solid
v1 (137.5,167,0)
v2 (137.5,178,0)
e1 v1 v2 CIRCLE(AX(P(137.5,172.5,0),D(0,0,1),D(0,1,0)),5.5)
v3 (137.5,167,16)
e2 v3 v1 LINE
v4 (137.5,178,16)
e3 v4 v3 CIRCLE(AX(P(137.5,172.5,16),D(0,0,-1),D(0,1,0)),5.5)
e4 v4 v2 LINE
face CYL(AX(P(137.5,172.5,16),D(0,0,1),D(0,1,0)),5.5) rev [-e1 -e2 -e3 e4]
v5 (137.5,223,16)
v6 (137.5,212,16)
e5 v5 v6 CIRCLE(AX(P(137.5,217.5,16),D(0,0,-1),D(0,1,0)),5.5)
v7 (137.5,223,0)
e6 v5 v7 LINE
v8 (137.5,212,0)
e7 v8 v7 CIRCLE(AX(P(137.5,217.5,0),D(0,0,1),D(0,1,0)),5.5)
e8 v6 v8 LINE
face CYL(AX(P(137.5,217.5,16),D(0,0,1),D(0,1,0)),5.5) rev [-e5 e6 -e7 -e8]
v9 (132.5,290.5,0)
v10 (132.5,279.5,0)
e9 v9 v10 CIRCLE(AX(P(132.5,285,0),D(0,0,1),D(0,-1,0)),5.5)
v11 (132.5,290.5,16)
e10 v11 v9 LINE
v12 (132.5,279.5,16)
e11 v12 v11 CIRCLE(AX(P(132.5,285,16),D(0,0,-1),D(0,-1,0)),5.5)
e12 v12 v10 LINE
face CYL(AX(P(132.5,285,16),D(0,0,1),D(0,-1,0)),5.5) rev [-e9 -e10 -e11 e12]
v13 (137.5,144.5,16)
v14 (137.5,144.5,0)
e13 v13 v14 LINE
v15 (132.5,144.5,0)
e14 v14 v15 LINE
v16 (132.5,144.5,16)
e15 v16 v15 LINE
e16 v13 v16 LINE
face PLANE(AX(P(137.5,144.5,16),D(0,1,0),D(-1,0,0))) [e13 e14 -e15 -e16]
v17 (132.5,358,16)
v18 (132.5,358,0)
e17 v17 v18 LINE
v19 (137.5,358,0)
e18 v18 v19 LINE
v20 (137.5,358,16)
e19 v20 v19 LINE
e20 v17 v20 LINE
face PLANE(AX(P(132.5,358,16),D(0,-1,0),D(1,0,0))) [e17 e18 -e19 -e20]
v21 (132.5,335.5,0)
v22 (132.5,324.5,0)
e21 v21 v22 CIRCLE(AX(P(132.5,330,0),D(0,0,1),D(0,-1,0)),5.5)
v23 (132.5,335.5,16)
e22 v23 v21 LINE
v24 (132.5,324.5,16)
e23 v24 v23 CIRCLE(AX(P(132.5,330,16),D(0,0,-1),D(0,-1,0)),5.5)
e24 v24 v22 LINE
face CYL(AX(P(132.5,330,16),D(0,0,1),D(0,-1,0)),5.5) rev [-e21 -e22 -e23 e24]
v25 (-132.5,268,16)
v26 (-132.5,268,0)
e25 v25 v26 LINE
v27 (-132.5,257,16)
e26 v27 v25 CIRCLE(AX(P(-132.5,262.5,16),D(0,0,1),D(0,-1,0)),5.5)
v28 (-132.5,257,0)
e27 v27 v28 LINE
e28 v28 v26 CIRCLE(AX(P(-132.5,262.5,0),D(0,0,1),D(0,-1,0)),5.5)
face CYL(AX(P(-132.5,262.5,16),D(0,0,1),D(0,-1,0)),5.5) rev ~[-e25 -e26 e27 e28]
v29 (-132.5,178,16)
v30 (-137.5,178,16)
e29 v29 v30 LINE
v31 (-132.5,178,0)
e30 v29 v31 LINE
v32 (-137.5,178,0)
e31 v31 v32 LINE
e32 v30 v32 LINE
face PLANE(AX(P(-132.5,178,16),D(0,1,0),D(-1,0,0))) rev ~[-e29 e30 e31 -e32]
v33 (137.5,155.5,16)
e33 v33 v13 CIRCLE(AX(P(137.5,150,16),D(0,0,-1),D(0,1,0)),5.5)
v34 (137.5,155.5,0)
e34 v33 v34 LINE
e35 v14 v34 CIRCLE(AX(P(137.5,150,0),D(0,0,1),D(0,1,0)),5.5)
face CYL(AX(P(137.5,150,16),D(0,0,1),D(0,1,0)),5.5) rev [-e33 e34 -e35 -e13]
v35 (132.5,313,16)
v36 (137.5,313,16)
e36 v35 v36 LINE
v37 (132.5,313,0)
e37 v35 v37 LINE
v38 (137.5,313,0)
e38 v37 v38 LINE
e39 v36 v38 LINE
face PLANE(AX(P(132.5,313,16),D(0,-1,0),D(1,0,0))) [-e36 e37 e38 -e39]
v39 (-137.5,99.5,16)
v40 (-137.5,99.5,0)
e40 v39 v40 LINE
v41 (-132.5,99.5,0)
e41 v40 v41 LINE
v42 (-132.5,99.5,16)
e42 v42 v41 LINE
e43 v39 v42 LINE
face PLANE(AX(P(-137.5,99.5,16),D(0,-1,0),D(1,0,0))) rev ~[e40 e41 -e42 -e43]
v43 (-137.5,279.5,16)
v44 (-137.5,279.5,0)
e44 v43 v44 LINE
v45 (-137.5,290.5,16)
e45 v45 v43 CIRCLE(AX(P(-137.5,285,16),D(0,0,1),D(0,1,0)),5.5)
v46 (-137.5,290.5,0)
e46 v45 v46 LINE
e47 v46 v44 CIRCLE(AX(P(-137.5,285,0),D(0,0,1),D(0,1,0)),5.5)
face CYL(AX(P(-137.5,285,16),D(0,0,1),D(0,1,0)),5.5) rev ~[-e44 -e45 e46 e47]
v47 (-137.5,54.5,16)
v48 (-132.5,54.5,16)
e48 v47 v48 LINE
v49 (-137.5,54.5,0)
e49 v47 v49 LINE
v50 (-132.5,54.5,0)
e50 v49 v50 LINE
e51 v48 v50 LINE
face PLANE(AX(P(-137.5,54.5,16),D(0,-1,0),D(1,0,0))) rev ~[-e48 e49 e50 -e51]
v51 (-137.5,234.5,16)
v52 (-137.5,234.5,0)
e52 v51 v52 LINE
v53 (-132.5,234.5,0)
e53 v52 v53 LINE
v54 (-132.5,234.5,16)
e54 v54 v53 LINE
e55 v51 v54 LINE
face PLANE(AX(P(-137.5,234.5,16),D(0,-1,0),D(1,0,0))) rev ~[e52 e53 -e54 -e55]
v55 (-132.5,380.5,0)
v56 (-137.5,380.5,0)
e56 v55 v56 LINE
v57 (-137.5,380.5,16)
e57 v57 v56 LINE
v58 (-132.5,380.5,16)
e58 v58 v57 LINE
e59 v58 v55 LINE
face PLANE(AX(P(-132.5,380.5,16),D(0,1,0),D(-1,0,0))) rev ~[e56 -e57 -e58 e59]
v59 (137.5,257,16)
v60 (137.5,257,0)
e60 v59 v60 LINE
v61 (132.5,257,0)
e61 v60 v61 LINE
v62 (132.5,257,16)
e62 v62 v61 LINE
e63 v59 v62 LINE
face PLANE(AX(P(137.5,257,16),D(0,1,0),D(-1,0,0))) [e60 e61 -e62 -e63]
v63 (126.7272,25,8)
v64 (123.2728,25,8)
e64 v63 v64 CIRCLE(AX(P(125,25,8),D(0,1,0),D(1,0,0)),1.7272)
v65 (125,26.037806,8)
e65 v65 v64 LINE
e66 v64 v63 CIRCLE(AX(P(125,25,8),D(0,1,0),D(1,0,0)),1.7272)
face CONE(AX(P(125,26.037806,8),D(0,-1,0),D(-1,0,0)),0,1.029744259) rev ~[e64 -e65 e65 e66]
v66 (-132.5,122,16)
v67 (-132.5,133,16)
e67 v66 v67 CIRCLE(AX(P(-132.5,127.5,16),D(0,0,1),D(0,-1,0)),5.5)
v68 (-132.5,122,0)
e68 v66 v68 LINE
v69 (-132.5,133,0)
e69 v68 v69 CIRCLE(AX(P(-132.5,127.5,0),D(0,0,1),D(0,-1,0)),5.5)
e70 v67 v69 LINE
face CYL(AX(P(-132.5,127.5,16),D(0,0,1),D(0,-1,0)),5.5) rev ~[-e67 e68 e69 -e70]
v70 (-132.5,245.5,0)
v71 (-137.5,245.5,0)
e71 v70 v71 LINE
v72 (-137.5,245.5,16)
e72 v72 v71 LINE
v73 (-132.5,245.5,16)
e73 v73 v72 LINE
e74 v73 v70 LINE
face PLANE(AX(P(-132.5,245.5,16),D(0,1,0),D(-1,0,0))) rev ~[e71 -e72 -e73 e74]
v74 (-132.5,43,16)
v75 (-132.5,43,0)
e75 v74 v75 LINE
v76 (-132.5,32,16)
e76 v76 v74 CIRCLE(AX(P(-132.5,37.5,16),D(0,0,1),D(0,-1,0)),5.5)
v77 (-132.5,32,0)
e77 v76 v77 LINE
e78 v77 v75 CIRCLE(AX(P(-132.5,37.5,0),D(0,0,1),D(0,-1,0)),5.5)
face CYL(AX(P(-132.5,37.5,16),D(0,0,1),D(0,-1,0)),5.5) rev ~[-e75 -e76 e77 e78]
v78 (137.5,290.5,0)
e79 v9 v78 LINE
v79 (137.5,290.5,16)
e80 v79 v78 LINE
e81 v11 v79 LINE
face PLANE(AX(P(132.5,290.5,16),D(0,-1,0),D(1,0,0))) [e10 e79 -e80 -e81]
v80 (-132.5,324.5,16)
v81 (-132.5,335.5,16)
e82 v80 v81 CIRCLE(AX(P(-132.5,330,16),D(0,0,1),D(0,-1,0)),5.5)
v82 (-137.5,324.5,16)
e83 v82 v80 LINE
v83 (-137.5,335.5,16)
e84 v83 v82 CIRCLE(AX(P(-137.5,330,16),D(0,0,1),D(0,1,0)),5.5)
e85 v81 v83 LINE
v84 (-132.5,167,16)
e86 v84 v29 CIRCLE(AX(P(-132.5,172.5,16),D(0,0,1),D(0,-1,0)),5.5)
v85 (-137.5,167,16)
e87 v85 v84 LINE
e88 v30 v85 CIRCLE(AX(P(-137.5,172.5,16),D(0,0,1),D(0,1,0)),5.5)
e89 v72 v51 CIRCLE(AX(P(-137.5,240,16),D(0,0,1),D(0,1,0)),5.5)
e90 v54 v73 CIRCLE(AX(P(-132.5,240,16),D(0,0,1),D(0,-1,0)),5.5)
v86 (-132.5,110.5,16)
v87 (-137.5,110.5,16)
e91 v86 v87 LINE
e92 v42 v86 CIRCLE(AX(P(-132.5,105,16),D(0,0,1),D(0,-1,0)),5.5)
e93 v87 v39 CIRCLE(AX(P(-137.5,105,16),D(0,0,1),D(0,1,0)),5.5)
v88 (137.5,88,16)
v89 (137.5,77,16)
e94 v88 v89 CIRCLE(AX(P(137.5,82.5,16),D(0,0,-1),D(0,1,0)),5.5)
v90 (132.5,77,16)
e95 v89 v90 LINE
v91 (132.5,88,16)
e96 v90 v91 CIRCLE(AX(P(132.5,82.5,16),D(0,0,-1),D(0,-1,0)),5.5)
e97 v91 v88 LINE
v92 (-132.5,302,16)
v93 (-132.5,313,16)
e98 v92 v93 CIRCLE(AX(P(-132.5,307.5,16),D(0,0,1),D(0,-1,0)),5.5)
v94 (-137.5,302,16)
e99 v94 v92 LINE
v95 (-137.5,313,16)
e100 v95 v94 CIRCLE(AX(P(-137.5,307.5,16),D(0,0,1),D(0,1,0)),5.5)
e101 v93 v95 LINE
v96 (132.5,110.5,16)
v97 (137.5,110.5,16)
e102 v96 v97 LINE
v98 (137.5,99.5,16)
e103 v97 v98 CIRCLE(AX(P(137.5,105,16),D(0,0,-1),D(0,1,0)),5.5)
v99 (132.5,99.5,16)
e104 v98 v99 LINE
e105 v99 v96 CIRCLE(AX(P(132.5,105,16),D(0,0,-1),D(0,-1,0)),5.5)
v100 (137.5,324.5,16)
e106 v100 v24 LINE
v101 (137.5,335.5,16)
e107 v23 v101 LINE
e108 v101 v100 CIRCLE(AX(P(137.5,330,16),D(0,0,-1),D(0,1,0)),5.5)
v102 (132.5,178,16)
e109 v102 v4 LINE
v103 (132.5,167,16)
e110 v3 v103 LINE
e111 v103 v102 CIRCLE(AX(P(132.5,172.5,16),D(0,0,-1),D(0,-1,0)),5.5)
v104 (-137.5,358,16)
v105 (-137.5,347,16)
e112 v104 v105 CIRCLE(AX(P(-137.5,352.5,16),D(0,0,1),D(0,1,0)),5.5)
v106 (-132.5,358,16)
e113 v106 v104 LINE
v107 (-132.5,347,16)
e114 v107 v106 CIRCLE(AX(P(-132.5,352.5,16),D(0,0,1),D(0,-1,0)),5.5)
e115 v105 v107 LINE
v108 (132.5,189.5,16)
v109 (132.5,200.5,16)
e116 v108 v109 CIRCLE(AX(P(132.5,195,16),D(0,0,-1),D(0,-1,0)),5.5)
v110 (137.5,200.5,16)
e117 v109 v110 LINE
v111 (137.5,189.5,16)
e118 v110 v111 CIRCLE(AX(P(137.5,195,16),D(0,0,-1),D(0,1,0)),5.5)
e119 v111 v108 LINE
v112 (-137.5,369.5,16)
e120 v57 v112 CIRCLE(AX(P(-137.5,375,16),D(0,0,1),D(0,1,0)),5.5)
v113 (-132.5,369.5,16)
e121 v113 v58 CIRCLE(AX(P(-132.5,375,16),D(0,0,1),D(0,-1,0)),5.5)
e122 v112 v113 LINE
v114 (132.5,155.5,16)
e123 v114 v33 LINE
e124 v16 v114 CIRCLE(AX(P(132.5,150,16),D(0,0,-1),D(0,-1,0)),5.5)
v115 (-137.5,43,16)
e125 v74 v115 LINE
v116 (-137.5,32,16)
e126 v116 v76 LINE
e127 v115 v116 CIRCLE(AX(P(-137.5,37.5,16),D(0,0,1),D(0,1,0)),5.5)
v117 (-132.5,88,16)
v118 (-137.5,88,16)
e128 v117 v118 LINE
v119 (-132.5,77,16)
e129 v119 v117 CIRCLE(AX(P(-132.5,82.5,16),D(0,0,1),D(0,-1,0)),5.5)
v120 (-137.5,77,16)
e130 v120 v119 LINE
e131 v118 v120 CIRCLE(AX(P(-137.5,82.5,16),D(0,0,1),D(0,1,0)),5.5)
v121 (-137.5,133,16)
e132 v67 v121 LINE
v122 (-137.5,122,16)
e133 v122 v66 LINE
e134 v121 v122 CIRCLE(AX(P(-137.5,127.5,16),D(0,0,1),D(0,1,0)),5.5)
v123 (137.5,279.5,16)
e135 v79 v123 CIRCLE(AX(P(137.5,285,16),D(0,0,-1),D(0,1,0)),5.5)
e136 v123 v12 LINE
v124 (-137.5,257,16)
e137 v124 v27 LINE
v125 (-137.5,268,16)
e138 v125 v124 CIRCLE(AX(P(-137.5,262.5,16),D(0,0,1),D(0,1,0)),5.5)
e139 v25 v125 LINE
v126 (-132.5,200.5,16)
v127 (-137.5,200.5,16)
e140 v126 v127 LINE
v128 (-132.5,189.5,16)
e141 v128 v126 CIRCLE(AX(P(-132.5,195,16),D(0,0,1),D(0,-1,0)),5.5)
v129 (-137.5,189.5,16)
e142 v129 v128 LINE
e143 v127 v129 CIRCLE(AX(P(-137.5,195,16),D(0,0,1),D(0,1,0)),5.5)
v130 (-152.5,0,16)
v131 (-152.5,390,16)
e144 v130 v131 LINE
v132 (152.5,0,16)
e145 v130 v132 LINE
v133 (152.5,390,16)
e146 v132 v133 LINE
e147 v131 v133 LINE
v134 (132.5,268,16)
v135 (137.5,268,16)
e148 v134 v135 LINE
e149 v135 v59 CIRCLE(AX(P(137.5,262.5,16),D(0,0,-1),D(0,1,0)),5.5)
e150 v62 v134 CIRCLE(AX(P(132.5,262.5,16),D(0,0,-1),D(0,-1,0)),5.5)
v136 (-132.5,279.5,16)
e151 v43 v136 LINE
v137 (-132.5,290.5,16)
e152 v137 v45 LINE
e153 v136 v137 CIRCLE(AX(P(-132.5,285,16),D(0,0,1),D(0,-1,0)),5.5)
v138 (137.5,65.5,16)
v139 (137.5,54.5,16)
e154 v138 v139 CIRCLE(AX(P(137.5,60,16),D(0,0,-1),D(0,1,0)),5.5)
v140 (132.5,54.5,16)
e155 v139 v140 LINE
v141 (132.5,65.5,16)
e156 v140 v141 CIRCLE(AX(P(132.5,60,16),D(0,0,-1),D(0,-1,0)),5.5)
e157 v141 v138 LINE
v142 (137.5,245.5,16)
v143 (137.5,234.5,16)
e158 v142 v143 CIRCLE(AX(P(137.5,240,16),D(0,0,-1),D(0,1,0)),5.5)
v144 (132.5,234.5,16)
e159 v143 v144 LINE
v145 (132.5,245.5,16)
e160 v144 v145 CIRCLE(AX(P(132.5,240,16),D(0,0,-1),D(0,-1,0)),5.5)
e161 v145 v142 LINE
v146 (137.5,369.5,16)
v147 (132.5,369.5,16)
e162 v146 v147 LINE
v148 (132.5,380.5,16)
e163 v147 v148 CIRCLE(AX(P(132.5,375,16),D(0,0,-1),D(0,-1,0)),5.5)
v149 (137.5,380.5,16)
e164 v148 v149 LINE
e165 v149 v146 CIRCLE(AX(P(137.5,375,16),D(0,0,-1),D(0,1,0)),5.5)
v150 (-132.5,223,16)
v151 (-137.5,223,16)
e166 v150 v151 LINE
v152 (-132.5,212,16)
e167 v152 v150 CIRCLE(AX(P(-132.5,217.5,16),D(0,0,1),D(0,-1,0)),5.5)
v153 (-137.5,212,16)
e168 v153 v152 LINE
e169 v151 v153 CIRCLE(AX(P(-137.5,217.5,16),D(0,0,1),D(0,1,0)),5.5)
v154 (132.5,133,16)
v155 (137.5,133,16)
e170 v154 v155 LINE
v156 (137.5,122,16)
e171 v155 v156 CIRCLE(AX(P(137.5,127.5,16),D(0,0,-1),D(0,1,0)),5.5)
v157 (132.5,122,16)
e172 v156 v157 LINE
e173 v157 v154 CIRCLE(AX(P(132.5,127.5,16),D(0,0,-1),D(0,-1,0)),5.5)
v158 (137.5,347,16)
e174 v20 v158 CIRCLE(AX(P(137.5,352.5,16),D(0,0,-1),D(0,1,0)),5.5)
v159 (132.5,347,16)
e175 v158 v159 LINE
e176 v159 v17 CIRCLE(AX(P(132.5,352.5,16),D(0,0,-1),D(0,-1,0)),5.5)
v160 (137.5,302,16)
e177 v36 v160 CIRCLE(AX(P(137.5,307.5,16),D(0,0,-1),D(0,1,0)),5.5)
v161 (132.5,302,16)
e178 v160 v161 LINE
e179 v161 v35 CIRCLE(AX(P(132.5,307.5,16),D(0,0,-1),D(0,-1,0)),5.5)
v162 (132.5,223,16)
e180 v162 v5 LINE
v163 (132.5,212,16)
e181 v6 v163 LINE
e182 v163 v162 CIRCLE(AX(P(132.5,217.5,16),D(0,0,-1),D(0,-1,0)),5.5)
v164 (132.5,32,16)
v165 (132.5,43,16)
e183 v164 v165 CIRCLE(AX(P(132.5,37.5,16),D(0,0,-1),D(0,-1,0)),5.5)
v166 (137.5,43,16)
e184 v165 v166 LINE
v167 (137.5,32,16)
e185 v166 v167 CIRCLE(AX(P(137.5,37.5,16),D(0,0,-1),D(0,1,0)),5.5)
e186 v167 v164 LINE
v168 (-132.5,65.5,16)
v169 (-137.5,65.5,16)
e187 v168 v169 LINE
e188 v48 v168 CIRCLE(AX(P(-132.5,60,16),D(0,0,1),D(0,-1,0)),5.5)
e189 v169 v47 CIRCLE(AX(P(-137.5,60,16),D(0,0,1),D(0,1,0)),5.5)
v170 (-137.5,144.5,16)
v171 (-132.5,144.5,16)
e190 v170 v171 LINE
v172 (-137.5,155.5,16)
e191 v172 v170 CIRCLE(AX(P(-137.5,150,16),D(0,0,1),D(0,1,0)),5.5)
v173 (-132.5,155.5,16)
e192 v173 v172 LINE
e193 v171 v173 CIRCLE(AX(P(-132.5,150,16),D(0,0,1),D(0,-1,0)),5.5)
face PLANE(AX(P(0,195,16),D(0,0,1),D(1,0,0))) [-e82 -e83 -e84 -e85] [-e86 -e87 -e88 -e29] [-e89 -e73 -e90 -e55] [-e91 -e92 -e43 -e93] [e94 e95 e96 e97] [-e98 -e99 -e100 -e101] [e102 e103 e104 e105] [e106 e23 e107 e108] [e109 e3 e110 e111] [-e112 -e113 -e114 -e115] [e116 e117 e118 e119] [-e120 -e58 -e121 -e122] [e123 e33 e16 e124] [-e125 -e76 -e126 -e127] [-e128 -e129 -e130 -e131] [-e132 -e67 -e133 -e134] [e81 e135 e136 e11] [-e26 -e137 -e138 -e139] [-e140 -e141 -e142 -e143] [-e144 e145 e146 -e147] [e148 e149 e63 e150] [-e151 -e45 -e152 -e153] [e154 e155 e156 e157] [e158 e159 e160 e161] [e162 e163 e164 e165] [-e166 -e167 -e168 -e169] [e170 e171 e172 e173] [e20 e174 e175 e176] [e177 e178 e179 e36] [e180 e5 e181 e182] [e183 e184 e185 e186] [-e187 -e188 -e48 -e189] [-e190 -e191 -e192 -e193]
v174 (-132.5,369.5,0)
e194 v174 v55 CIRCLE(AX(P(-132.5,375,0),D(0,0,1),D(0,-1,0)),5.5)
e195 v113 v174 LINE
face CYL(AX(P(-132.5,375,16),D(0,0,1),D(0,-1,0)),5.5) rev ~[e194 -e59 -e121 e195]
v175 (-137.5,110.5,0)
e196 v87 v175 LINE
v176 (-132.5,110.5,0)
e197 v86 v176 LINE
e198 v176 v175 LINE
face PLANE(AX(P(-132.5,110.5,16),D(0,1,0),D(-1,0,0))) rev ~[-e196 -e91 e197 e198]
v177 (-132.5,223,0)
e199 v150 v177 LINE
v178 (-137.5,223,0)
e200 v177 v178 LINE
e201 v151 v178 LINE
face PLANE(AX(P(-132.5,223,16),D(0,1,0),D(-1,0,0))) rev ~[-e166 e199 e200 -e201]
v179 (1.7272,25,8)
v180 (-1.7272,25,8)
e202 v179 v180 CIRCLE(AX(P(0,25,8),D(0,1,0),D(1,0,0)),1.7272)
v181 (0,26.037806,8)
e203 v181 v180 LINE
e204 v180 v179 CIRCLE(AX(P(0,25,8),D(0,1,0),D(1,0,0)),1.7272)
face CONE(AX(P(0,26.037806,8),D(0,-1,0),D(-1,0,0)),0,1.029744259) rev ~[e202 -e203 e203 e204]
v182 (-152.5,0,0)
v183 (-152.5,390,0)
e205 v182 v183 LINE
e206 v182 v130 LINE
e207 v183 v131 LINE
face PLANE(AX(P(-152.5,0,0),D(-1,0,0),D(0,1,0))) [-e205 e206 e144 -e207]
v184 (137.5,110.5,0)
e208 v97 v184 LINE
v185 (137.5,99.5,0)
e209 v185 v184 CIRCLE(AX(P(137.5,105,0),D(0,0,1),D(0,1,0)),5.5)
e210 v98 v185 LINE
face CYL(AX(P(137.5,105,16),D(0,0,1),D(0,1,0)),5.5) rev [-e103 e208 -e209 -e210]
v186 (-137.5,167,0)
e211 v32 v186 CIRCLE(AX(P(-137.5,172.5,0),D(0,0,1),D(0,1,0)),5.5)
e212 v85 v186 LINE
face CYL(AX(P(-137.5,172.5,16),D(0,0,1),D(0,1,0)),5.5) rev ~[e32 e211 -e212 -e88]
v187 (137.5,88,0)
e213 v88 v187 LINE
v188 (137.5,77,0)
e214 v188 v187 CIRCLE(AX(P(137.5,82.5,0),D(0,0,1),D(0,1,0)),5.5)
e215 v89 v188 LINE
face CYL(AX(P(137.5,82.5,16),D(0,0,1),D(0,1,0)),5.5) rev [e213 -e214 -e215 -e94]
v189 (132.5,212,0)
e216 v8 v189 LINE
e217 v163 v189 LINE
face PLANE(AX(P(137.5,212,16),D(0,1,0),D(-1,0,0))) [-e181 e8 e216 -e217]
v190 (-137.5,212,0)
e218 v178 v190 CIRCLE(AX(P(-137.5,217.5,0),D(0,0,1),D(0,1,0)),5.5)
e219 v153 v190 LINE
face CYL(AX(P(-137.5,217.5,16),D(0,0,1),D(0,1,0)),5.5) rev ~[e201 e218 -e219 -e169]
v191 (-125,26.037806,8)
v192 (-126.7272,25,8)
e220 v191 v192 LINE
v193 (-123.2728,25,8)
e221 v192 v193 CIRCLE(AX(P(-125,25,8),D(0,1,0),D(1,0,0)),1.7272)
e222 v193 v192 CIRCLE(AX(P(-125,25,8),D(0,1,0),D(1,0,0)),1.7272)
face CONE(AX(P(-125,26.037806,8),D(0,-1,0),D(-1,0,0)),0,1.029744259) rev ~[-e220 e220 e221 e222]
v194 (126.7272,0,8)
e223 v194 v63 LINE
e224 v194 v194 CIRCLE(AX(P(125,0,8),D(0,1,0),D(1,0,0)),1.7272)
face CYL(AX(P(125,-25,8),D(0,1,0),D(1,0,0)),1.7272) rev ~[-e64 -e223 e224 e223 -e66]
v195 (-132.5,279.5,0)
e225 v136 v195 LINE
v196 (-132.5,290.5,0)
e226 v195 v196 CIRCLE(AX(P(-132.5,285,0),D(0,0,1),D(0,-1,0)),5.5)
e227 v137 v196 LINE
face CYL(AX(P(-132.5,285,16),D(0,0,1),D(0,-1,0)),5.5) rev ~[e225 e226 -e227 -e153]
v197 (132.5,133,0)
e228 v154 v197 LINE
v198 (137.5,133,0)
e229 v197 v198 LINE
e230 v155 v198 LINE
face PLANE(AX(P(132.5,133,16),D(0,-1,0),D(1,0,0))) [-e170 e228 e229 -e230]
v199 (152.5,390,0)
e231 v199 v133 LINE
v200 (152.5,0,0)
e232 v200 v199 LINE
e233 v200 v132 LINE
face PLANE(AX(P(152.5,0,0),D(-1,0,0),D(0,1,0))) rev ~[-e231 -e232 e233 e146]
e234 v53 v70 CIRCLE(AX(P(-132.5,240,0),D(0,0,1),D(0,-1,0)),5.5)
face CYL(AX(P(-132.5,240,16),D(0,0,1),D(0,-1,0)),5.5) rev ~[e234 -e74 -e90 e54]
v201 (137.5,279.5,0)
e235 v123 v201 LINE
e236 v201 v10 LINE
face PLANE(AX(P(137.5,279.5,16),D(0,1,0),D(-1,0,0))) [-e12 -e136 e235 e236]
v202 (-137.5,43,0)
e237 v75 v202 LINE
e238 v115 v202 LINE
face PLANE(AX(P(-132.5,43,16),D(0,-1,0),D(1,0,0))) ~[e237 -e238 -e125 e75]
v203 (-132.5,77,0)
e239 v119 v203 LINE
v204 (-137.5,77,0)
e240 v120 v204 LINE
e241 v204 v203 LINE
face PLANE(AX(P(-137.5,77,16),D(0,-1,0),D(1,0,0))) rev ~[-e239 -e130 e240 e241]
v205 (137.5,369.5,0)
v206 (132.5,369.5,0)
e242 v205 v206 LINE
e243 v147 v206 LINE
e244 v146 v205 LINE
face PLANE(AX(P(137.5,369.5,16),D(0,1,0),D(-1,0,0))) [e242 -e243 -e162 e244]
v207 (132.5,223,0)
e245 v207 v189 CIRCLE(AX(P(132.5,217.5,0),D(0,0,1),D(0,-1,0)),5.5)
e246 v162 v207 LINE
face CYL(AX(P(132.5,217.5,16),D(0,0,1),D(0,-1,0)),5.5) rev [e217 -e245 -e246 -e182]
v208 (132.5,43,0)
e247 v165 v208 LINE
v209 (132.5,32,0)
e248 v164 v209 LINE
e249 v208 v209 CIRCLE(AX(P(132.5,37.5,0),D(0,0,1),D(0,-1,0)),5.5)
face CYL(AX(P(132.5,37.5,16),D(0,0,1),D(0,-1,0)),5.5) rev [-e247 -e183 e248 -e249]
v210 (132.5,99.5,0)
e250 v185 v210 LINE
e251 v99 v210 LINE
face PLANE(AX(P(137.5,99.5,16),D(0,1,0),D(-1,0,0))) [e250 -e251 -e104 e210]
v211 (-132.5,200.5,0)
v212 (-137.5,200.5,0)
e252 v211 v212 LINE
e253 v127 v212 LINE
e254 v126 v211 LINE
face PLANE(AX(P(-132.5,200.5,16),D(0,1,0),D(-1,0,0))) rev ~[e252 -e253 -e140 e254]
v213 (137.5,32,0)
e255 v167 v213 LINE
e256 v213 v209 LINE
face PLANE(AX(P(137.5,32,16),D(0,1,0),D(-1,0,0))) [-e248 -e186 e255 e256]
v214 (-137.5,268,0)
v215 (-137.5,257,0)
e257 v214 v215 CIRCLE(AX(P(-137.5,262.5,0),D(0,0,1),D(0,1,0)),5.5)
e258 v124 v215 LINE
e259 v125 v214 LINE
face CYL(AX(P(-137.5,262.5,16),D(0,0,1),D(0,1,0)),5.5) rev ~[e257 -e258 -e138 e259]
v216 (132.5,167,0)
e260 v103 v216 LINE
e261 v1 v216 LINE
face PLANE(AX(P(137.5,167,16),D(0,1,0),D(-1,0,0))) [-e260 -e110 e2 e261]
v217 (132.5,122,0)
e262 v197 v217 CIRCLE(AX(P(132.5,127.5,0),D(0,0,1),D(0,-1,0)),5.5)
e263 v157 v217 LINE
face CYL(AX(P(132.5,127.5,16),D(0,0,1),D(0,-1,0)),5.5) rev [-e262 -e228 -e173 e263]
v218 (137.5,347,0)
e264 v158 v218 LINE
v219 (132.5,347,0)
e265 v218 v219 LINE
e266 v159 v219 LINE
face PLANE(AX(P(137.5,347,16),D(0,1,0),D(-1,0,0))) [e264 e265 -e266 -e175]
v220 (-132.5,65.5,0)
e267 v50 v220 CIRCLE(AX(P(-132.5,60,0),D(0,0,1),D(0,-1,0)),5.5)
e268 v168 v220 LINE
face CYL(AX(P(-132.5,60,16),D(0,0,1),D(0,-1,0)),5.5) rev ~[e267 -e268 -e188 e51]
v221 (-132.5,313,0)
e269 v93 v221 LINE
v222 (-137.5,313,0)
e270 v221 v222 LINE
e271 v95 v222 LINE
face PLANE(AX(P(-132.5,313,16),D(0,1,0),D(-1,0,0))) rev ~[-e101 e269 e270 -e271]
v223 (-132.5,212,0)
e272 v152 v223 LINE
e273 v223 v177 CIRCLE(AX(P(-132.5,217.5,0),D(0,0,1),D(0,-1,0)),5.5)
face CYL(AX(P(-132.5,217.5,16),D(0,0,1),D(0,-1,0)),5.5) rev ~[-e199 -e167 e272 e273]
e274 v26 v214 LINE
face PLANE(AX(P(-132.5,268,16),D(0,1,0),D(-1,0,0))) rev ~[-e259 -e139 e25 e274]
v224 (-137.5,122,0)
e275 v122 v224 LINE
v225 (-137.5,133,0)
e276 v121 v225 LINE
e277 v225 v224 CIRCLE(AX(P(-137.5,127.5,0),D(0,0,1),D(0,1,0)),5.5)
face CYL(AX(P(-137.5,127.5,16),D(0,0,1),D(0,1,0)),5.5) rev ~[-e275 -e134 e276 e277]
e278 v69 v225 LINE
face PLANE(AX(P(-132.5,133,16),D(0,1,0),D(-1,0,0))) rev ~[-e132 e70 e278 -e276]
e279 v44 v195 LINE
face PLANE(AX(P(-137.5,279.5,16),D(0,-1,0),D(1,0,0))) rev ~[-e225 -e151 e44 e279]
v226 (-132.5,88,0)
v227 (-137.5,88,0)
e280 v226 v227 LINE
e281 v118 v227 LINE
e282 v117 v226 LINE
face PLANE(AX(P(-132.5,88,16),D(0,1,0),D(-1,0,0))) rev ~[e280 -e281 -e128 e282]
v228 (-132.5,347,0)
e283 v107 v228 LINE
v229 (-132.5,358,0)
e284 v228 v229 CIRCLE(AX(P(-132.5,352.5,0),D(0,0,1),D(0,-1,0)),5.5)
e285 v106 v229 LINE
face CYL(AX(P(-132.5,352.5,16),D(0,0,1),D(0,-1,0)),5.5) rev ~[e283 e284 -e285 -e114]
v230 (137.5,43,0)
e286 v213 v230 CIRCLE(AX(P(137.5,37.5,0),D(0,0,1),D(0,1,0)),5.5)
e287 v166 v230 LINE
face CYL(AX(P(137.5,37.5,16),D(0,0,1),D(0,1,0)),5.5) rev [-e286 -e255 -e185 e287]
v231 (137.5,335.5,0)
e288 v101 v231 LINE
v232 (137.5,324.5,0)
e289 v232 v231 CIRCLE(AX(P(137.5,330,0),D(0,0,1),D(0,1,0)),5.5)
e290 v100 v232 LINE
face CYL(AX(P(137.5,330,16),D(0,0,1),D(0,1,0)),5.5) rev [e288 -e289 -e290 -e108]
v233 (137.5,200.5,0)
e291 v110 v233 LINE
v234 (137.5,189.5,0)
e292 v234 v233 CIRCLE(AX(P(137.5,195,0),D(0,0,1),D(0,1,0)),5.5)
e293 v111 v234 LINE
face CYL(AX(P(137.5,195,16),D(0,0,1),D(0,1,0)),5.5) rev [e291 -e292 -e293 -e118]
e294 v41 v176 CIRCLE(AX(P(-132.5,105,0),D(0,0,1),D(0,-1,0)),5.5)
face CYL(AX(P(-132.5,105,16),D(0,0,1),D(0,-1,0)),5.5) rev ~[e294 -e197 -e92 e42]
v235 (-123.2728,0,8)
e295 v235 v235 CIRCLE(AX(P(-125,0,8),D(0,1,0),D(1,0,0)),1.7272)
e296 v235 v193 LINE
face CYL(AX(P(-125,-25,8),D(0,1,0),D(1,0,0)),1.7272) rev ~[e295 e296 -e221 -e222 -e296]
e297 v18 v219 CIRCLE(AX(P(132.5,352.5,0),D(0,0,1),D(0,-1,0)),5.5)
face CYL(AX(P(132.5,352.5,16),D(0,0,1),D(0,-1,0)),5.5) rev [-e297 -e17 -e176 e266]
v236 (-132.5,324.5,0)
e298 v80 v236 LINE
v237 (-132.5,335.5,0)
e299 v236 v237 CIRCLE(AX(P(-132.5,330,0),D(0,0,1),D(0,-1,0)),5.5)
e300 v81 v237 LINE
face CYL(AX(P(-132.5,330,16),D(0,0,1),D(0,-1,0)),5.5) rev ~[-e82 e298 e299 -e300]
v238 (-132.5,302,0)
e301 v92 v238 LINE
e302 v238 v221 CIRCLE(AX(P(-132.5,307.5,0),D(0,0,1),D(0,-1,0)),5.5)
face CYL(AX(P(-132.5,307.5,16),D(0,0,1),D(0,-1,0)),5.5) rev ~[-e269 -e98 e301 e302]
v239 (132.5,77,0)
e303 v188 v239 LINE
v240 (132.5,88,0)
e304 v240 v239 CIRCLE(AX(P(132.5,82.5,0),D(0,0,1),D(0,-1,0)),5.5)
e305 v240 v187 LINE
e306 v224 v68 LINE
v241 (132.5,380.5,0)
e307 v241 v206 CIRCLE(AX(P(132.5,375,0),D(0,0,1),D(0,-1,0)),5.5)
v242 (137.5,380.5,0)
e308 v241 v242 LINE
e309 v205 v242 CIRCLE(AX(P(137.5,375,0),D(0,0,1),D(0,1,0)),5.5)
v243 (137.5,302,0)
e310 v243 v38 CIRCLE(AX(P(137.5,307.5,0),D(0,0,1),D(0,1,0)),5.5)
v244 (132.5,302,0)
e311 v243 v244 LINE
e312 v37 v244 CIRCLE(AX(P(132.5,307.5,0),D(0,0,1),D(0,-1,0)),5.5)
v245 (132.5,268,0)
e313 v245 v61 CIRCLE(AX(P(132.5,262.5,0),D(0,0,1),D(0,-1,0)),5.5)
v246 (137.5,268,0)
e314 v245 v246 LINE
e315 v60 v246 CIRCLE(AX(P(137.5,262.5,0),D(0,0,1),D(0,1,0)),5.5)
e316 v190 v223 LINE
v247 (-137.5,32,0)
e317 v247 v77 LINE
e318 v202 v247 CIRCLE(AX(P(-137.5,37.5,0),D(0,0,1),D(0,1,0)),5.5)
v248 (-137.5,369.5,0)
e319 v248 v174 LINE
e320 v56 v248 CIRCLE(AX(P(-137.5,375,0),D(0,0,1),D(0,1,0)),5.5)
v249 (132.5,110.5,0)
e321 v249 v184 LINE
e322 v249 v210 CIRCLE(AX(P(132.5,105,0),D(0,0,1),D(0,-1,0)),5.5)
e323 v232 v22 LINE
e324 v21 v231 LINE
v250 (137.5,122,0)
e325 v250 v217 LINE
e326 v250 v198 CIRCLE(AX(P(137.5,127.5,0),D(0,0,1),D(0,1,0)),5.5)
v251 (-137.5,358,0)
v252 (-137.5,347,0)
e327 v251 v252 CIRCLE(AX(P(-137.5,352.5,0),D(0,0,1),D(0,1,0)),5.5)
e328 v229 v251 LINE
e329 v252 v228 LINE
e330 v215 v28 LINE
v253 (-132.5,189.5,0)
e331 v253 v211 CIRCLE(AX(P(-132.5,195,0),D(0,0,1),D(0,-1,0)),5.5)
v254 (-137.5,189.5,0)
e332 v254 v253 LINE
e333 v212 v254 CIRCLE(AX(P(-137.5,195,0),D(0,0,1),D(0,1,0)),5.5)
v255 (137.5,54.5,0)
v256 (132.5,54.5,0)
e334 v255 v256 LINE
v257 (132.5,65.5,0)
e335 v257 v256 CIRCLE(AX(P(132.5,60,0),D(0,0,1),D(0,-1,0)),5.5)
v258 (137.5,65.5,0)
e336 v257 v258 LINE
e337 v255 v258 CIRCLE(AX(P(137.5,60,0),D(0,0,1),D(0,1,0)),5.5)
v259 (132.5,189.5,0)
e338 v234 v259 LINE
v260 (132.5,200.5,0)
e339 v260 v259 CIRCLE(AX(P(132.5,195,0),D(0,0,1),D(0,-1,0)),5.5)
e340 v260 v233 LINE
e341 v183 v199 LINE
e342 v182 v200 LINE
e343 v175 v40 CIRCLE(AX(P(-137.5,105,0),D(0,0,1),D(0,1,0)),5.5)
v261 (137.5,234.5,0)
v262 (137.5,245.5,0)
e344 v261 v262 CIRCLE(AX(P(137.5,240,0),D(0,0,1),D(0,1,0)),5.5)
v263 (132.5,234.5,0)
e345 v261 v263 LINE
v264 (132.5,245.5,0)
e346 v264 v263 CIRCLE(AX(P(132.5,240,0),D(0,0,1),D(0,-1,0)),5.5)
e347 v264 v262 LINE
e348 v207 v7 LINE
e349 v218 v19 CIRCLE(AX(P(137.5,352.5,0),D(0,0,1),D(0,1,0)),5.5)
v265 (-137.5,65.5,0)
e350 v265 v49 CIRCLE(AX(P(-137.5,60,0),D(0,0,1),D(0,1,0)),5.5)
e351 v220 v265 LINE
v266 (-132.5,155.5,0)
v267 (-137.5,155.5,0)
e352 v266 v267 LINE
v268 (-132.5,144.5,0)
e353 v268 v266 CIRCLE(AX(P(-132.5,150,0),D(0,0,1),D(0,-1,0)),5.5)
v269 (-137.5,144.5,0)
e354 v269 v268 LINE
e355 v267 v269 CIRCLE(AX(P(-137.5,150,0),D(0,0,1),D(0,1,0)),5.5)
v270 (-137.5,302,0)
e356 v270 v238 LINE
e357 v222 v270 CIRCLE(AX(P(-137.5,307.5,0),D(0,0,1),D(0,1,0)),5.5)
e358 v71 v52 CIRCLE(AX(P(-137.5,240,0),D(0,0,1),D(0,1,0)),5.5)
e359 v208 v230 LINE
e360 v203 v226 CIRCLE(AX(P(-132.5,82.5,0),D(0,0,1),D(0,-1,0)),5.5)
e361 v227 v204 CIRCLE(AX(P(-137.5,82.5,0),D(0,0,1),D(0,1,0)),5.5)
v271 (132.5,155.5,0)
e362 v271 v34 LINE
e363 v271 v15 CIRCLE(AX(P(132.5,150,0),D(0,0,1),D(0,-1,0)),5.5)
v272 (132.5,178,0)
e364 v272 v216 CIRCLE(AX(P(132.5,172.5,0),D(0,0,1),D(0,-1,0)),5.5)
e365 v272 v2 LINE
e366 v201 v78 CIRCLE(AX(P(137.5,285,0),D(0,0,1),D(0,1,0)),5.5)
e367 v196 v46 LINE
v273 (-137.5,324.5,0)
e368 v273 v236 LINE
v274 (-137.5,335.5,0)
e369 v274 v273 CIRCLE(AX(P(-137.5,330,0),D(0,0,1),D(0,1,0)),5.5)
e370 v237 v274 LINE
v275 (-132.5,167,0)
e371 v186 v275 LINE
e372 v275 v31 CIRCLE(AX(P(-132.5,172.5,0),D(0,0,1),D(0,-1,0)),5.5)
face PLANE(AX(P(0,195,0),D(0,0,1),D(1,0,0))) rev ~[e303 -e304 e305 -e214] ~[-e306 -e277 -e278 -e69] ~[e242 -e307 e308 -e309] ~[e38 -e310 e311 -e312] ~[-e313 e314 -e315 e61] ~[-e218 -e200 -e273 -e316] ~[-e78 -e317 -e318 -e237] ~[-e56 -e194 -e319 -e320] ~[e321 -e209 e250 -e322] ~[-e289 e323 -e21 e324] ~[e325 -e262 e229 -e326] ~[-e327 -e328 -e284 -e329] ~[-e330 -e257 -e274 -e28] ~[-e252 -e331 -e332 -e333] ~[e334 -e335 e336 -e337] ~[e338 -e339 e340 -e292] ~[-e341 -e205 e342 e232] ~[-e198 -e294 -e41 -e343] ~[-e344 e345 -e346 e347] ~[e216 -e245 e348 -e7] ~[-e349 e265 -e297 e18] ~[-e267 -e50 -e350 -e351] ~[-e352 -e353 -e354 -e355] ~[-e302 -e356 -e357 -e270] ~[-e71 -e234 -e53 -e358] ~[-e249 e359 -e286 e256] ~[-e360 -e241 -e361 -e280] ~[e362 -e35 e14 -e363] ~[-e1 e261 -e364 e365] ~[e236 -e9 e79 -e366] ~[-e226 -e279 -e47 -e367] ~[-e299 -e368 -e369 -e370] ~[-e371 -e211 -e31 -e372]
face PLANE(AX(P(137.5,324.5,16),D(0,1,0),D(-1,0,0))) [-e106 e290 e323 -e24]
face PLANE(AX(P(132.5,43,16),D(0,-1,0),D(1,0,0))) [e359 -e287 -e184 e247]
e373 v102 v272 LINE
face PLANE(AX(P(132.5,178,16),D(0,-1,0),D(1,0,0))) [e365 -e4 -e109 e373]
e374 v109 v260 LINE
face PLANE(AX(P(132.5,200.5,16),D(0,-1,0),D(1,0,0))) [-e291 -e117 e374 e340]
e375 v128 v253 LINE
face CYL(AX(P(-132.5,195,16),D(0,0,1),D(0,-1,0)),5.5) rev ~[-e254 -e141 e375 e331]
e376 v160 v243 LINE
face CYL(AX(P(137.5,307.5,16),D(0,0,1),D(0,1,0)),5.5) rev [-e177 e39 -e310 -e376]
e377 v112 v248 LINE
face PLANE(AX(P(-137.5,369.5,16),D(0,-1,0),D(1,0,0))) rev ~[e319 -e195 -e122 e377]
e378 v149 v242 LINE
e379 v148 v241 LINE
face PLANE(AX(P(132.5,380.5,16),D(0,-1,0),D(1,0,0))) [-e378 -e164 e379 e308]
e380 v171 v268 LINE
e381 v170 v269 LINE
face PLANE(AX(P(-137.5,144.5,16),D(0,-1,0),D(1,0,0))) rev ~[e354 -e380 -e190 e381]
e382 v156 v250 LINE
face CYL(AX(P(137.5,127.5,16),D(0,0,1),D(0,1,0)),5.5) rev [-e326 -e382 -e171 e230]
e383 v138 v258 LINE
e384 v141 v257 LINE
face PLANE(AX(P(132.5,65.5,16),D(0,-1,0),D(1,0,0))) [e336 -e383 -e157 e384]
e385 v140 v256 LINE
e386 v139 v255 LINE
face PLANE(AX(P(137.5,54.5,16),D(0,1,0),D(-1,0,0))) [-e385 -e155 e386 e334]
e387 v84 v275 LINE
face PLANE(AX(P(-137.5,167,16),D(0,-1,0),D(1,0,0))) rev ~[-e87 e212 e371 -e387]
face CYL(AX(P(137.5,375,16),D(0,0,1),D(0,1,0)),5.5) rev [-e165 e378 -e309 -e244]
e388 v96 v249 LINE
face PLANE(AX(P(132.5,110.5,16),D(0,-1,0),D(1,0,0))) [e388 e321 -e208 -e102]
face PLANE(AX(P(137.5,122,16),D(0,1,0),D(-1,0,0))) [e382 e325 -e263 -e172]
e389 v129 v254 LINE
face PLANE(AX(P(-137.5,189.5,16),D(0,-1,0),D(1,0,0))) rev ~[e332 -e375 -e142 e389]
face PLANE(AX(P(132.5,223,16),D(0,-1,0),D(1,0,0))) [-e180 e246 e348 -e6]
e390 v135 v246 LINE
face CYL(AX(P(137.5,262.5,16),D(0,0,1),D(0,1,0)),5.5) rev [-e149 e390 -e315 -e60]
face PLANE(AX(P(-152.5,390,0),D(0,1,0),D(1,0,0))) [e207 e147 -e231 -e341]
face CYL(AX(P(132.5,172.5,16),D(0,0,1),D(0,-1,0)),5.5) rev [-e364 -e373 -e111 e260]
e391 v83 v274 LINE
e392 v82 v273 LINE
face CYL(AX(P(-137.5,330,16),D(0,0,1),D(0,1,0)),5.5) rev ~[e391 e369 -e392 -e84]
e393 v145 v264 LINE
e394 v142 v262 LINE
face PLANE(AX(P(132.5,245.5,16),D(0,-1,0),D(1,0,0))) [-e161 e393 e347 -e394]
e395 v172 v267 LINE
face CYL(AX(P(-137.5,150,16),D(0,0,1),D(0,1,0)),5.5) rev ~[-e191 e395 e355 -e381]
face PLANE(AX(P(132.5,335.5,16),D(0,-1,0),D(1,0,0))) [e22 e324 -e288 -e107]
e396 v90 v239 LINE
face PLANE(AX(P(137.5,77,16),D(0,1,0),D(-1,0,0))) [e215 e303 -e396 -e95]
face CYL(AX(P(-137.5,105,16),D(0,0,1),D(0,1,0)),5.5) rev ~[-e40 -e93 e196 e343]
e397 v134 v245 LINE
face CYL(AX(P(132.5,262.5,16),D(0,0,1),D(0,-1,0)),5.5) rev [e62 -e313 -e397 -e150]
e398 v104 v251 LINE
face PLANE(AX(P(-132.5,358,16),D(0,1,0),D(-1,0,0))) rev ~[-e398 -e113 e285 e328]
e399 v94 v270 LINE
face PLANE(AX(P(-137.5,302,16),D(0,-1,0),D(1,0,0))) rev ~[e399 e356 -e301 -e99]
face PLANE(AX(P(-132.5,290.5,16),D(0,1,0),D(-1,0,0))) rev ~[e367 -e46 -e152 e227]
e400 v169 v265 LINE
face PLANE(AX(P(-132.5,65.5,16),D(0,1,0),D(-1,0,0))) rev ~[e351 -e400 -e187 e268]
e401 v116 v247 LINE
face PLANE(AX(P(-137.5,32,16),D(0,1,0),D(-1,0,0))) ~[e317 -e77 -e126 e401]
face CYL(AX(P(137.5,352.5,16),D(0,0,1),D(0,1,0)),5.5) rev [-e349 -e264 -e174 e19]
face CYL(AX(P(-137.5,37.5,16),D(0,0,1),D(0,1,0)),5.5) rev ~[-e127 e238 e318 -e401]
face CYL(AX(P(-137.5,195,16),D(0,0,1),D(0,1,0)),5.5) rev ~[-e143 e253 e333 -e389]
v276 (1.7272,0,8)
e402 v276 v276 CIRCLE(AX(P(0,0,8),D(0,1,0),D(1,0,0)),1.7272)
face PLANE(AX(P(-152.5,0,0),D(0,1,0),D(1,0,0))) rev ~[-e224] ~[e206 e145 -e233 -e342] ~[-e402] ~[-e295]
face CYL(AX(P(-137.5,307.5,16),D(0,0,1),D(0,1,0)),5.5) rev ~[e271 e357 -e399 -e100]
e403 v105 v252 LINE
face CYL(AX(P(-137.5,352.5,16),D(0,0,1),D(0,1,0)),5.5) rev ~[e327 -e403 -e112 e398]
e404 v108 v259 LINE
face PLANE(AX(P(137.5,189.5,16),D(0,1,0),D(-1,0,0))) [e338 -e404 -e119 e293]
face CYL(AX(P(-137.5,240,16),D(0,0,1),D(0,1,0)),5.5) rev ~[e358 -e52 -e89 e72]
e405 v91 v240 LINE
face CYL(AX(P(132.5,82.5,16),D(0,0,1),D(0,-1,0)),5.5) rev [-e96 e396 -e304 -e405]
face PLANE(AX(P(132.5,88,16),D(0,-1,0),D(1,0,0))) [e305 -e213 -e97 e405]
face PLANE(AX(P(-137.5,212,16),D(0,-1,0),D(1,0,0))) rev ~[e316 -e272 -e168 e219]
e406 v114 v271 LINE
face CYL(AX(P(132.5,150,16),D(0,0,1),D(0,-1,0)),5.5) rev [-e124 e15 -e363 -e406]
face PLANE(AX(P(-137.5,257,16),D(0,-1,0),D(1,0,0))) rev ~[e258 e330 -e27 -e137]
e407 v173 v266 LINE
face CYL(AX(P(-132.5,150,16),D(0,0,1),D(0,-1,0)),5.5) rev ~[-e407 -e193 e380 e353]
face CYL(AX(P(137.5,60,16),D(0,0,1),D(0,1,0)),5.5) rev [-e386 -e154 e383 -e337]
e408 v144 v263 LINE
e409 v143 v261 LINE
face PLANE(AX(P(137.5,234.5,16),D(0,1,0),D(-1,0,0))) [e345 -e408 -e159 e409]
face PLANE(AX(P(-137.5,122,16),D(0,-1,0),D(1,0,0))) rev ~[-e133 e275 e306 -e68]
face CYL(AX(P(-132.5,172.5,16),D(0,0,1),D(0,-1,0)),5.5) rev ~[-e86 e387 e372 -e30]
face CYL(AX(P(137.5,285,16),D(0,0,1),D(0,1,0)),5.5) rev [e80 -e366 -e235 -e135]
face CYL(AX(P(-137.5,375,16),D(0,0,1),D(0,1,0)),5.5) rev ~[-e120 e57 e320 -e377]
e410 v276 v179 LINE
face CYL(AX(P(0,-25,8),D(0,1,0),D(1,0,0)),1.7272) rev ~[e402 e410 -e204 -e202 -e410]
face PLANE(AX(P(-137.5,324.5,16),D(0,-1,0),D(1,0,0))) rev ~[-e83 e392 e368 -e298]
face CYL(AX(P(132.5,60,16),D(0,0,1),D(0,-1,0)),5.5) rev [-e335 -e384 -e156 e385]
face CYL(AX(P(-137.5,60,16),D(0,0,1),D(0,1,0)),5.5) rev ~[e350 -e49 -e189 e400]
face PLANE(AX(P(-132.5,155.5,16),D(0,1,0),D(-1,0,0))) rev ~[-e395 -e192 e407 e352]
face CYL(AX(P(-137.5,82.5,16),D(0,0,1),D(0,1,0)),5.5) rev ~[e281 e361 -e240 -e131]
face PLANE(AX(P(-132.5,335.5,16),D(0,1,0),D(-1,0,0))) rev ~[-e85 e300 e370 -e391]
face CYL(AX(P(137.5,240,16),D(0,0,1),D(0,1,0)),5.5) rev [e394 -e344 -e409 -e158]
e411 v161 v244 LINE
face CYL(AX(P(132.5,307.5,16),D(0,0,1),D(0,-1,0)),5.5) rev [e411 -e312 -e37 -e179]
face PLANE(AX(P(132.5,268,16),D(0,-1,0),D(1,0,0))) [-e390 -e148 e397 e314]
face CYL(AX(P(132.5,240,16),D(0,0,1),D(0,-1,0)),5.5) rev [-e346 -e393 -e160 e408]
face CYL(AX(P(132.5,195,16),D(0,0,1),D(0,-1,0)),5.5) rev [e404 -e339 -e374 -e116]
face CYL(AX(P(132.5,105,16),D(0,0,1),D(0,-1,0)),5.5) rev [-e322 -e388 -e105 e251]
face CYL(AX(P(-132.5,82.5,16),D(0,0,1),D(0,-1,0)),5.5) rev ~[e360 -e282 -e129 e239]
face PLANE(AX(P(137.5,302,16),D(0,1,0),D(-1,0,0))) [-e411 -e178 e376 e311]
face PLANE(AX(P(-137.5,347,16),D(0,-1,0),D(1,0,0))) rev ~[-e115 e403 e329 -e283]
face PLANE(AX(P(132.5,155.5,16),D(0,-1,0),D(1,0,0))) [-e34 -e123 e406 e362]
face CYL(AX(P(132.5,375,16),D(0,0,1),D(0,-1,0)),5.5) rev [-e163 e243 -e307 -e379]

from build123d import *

# Parameters (mm, degrees)
SKETCH1_W                 = 305
SKETCH1_H                 = 390
BOSS_EXTRUDE1_DEPTH       = 16
CUT_EXTRUDE4_DEPTH        = 420.061153055
LPATTERN1_COUNT           = 16
LPATTERN1_PITCH           = 22.5
F_8_36_TAPPED_HOLE1_D     = 3.4544
F_8_36_TAPPED_HOLE1_DEPTH = 25
F_8_36_TAPPED_HOLE1_TIP   = 1.037806461
MIRROR1_COPY_1_DEPTH      = 420.061153055
MIRROR1_COPY_2_DEPTH      = 420.061153055
MIRROR1_COPY_3_DEPTH      = 420.061153055
MIRROR1_COPY_4_DEPTH      = 420.061153055
MIRROR1_COPY_5_DEPTH      = 420.061153055
MIRROR1_COPY_6_DEPTH      = 420.061153055
MIRROR1_COPY_7_DEPTH      = 420.061153055
MIRROR1_COPY_8_DEPTH      = 420.061153055
MIRROR1_COPY_9_DEPTH      = 420.061153055
MIRROR1_COPY_10_DEPTH     = 420.061153055
MIRROR1_COPY_11_DEPTH     = 420.061153055
MIRROR1_COPY_12_DEPTH     = 420.061153055
MIRROR1_COPY_13_DEPTH     = 420.061153055
MIRROR1_COPY_14_DEPTH     = 420.061153055
MIRROR1_COPY_15_DEPTH     = 420.061153055


with BuildPart() as part:
    # Sketch1 → Boss-Extrude1 (new body)
    with BuildSketch(Plane.XY):
        with Locations((0, 195)):
            Rectangle(SKETCH1_W, SKETCH1_H)
    extrude(amount=BOSS_EXTRUDE1_DEPTH)

    # Sketch2 → Cut-Extrude4 (cut, through all)
    with BuildSketch(Plane.XY.offset(16)):
        with BuildLine():
            Line((137.5, 32), (132.5, 32))
            ThreePointArc((132.5, 32), (127, 37.5), (132.5, 43))
            Line((132.5, 43), (137.5, 43))
            ThreePointArc((137.5, 43), (143, 37.5), (137.5, 32))
        make_face()
    cut_extrude4 = extrude(amount=-CUT_EXTRUDE4_DEPTH, mode=Mode.SUBTRACT)

    # LPattern1: Cut-Extrude4 ×16
    with Locations(*[(0, i * LPATTERN1_PITCH, 0) for i in range(1, LPATTERN1_COUNT)]):
        add(cut_extrude4, mode=Mode.SUBTRACT)

    # #8-36 Tapped Hole1
    with Locations(Plane(origin=(0, 0, 0), x_dir=(-1, 0, 0), z_dir=(0, -1, 0))):
        with Locations((-125, -8), (0, -8), (125, -8)):
            Hole(F_8_36_TAPPED_HOLE1_D / 2, depth=F_8_36_TAPPED_HOLE1_DEPTH)
            with Locations((0, 0, -(F_8_36_TAPPED_HOLE1_DEPTH + F_8_36_TAPPED_HOLE1_TIP / 2))):  # 118° drill point
                Cone(0, F_8_36_TAPPED_HOLE1_D / 2, F_8_36_TAPPED_HOLE1_TIP, mode=Mode.SUBTRACT)

    # Mirror1: Cut-Extrude4 across plane
    add(cut_extrude4.mirror(Plane(origin=(0, 0, 0), x_dir=(0, 0, 1), z_dir=(1, 0, 0))), mode=Mode.SUBTRACT)

    # Mirror1 copy 1 sketch → Mirror1 copy 1 (cut, through all)
    with BuildSketch(Plane(origin=(0, 22.5, 16), x_dir=(-1, 0, 0), z_dir=(0, 0, 1))):
        with BuildLine():
            Line((137.5, -32), (132.5, -32))
            ThreePointArc((132.5, -32), (127, -37.5), (132.5, -43))
            Line((132.5, -43), (137.5, -43))
            ThreePointArc((137.5, -43), (143, -37.5), (137.5, -32))
        make_face()
    extrude(amount=-MIRROR1_COPY_1_DEPTH, mode=Mode.SUBTRACT)

    # Mirror1 copy 2 sketch → Mirror1 copy 2 (cut, through all)
    with BuildSketch(Plane(origin=(0, 45, 16), x_dir=(-1, 0, 0), z_dir=(0, 0, 1))):
        with BuildLine():
            Line((137.5, -32), (132.5, -32))
            ThreePointArc((132.5, -32), (127, -37.5), (132.5, -43))
            Line((132.5, -43), (137.5, -43))
            ThreePointArc((137.5, -43), (143, -37.5), (137.5, -32))
        make_face()
    extrude(amount=-MIRROR1_COPY_2_DEPTH, mode=Mode.SUBTRACT)

    # Mirror1 copy 3 sketch → Mirror1 copy 3 (cut, through all)
    with BuildSketch(Plane(origin=(0, 67.5, 16), x_dir=(-1, 0, 0), z_dir=(0, 0, 1))):
        with BuildLine():
            Line((137.5, -32), (132.5, -32))
            ThreePointArc((132.5, -32), (127, -37.5), (132.5, -43))
            Line((132.5, -43), (137.5, -43))
            ThreePointArc((137.5, -43), (143, -37.5), (137.5, -32))
        make_face()
    extrude(amount=-MIRROR1_COPY_3_DEPTH, mode=Mode.SUBTRACT)

    # Mirror1 copy 4 sketch → Mirror1 copy 4 (cut, through all)
    with BuildSketch(Plane(origin=(0, 90, 16), x_dir=(-1, 0, 0), z_dir=(0, 0, 1))):
        with BuildLine():
            Line((137.5, -32), (132.5, -32))
            ThreePointArc((132.5, -32), (127, -37.5), (132.5, -43))
            Line((132.5, -43), (137.5, -43))
            ThreePointArc((137.5, -43), (143, -37.5), (137.5, -32))
        make_face()
    extrude(amount=-MIRROR1_COPY_4_DEPTH, mode=Mode.SUBTRACT)

    # Mirror1 copy 5 sketch → Mirror1 copy 5 (cut, through all)
    with BuildSketch(Plane(origin=(0, 112.5, 16), x_dir=(-1, 0, 0), z_dir=(0, 0, 1))):
        with BuildLine():
            Line((137.5, -32), (132.5, -32))
            ThreePointArc((132.5, -32), (127, -37.5), (132.5, -43))
            Line((132.5, -43), (137.5, -43))
            ThreePointArc((137.5, -43), (143, -37.5), (137.5, -32))
        make_face()
    extrude(amount=-MIRROR1_COPY_5_DEPTH, mode=Mode.SUBTRACT)

    # Mirror1 copy 6 sketch → Mirror1 copy 6 (cut, through all)
    with BuildSketch(Plane(origin=(0, 135, 16), x_dir=(-1, 0, 0), z_dir=(0, 0, 1))):
        with BuildLine():
            Line((137.5, -32), (132.5, -32))
            ThreePointArc((132.5, -32), (127, -37.5), (132.5, -43))
            Line((132.5, -43), (137.5, -43))
            ThreePointArc((137.5, -43), (143, -37.5), (137.5, -32))
        make_face()
    extrude(amount=-MIRROR1_COPY_6_DEPTH, mode=Mode.SUBTRACT)

    # Mirror1 copy 7 sketch → Mirror1 copy 7 (cut, through all)
    with BuildSketch(Plane(origin=(0, 157.5, 16), x_dir=(-1, 0, 0), z_dir=(0, 0, 1))):
        with BuildLine():
            Line((137.5, -32), (132.5, -32))
            ThreePointArc((132.5, -32), (127, -37.5), (132.5, -43))
            Line((132.5, -43), (137.5, -43))
            ThreePointArc((137.5, -43), (143, -37.5), (137.5, -32))
        make_face()
    extrude(amount=-MIRROR1_COPY_7_DEPTH, mode=Mode.SUBTRACT)

    # Mirror1 copy 8 sketch → Mirror1 copy 8 (cut, through all)
    with BuildSketch(Plane(origin=(0, 180, 16), x_dir=(-1, 0, 0), z_dir=(0, 0, 1))):
        with BuildLine():
            Line((137.5, -32), (132.5, -32))
            ThreePointArc((132.5, -32), (127, -37.5), (132.5, -43))
            Line((132.5, -43), (137.5, -43))
            ThreePointArc((137.5, -43), (143, -37.5), (137.5, -32))
        make_face()
    extrude(amount=-MIRROR1_COPY_8_DEPTH, mode=Mode.SUBTRACT)

    # Mirror1 copy 9 sketch → Mirror1 copy 9 (cut, through all)
    with BuildSketch(Plane(origin=(0, 202.5, 16), x_dir=(-1, 0, 0), z_dir=(0, 0, 1))):
        with BuildLine():
            Line((137.5, -32), (132.5, -32))
            ThreePointArc((132.5, -32), (127, -37.5), (132.5, -43))
            Line((132.5, -43), (137.5, -43))
            ThreePointArc((137.5, -43), (143, -37.5), (137.5, -32))
        make_face()
    extrude(amount=-MIRROR1_COPY_9_DEPTH, mode=Mode.SUBTRACT)

    # Mirror1 copy 10 sketch → Mirror1 copy 10 (cut, through all)
    with BuildSketch(Plane(origin=(0, 225, 16), x_dir=(-1, 0, 0), z_dir=(0, 0, 1))):
        with BuildLine():
            Line((137.5, -32), (132.5, -32))
            ThreePointArc((132.5, -32), (127, -37.5), (132.5, -43))
            Line((132.5, -43), (137.5, -43))
            ThreePointArc((137.5, -43), (143, -37.5), (137.5, -32))
        make_face()
    extrude(amount=-MIRROR1_COPY_10_DEPTH, mode=Mode.SUBTRACT)

    # Mirror1 copy 11 sketch → Mirror1 copy 11 (cut, through all)
    with BuildSketch(Plane(origin=(0, 247.5, 16), x_dir=(-1, 0, 0), z_dir=(0, 0, 1))):
        with BuildLine():
            Line((137.5, -32), (132.5, -32))
            ThreePointArc((132.5, -32), (127, -37.5), (132.5, -43))
            Line((132.5, -43), (137.5, -43))
            ThreePointArc((137.5, -43), (143, -37.5), (137.5, -32))
        make_face()
    extrude(amount=-MIRROR1_COPY_11_DEPTH, mode=Mode.SUBTRACT)

    # Mirror1 copy 12 sketch → Mirror1 copy 12 (cut, through all)
    with BuildSketch(Plane(origin=(0, 270, 16), x_dir=(-1, 0, 0), z_dir=(0, 0, 1))):
        with BuildLine():
            Line((137.5, -32), (132.5, -32))
            ThreePointArc((132.5, -32), (127, -37.5), (132.5, -43))
            Line((132.5, -43), (137.5, -43))
            ThreePointArc((137.5, -43), (143, -37.5), (137.5, -32))
        make_face()
    extrude(amount=-MIRROR1_COPY_12_DEPTH, mode=Mode.SUBTRACT)

    # Mirror1 copy 13 sketch → Mirror1 copy 13 (cut, through all)
    with BuildSketch(Plane(origin=(0, 292.5, 16), x_dir=(-1, 0, 0), z_dir=(0, 0, 1))):
        with BuildLine():
            Line((137.5, -32), (132.5, -32))
            ThreePointArc((132.5, -32), (127, -37.5), (132.5, -43))
            Line((132.5, -43), (137.5, -43))
            ThreePointArc((137.5, -43), (143, -37.5), (137.5, -32))
        make_face()
    extrude(amount=-MIRROR1_COPY_13_DEPTH, mode=Mode.SUBTRACT)

    # Mirror1 copy 14 sketch → Mirror1 copy 14 (cut, through all)
    with BuildSketch(Plane(origin=(0, 315, 16), x_dir=(-1, 0, 0), z_dir=(0, 0, 1))):
        with BuildLine():
            Line((137.5, -32), (132.5, -32))
            ThreePointArc((132.5, -32), (127, -37.5), (132.5, -43))
            Line((132.5, -43), (137.5, -43))
            ThreePointArc((137.5, -43), (143, -37.5), (137.5, -32))
        make_face()
    extrude(amount=-MIRROR1_COPY_14_DEPTH, mode=Mode.SUBTRACT)

    # Mirror1 copy 15 sketch → Mirror1 copy 15 (cut, through all)
    with BuildSketch(Plane(origin=(0, 337.5, 16), x_dir=(-1, 0, 0), z_dir=(0, 0, 1))):
        with BuildLine():
            Line((137.5, -32), (132.5, -32))
            ThreePointArc((132.5, -32), (127, -37.5), (132.5, -43))
            Line((132.5, -43), (137.5, -43))
            ThreePointArc((137.5, -43), (143, -37.5), (137.5, -32))
        make_face()
    extrude(amount=-MIRROR1_COPY_15_DEPTH, mode=Mode.SUBTRACT)


solid = part.part
